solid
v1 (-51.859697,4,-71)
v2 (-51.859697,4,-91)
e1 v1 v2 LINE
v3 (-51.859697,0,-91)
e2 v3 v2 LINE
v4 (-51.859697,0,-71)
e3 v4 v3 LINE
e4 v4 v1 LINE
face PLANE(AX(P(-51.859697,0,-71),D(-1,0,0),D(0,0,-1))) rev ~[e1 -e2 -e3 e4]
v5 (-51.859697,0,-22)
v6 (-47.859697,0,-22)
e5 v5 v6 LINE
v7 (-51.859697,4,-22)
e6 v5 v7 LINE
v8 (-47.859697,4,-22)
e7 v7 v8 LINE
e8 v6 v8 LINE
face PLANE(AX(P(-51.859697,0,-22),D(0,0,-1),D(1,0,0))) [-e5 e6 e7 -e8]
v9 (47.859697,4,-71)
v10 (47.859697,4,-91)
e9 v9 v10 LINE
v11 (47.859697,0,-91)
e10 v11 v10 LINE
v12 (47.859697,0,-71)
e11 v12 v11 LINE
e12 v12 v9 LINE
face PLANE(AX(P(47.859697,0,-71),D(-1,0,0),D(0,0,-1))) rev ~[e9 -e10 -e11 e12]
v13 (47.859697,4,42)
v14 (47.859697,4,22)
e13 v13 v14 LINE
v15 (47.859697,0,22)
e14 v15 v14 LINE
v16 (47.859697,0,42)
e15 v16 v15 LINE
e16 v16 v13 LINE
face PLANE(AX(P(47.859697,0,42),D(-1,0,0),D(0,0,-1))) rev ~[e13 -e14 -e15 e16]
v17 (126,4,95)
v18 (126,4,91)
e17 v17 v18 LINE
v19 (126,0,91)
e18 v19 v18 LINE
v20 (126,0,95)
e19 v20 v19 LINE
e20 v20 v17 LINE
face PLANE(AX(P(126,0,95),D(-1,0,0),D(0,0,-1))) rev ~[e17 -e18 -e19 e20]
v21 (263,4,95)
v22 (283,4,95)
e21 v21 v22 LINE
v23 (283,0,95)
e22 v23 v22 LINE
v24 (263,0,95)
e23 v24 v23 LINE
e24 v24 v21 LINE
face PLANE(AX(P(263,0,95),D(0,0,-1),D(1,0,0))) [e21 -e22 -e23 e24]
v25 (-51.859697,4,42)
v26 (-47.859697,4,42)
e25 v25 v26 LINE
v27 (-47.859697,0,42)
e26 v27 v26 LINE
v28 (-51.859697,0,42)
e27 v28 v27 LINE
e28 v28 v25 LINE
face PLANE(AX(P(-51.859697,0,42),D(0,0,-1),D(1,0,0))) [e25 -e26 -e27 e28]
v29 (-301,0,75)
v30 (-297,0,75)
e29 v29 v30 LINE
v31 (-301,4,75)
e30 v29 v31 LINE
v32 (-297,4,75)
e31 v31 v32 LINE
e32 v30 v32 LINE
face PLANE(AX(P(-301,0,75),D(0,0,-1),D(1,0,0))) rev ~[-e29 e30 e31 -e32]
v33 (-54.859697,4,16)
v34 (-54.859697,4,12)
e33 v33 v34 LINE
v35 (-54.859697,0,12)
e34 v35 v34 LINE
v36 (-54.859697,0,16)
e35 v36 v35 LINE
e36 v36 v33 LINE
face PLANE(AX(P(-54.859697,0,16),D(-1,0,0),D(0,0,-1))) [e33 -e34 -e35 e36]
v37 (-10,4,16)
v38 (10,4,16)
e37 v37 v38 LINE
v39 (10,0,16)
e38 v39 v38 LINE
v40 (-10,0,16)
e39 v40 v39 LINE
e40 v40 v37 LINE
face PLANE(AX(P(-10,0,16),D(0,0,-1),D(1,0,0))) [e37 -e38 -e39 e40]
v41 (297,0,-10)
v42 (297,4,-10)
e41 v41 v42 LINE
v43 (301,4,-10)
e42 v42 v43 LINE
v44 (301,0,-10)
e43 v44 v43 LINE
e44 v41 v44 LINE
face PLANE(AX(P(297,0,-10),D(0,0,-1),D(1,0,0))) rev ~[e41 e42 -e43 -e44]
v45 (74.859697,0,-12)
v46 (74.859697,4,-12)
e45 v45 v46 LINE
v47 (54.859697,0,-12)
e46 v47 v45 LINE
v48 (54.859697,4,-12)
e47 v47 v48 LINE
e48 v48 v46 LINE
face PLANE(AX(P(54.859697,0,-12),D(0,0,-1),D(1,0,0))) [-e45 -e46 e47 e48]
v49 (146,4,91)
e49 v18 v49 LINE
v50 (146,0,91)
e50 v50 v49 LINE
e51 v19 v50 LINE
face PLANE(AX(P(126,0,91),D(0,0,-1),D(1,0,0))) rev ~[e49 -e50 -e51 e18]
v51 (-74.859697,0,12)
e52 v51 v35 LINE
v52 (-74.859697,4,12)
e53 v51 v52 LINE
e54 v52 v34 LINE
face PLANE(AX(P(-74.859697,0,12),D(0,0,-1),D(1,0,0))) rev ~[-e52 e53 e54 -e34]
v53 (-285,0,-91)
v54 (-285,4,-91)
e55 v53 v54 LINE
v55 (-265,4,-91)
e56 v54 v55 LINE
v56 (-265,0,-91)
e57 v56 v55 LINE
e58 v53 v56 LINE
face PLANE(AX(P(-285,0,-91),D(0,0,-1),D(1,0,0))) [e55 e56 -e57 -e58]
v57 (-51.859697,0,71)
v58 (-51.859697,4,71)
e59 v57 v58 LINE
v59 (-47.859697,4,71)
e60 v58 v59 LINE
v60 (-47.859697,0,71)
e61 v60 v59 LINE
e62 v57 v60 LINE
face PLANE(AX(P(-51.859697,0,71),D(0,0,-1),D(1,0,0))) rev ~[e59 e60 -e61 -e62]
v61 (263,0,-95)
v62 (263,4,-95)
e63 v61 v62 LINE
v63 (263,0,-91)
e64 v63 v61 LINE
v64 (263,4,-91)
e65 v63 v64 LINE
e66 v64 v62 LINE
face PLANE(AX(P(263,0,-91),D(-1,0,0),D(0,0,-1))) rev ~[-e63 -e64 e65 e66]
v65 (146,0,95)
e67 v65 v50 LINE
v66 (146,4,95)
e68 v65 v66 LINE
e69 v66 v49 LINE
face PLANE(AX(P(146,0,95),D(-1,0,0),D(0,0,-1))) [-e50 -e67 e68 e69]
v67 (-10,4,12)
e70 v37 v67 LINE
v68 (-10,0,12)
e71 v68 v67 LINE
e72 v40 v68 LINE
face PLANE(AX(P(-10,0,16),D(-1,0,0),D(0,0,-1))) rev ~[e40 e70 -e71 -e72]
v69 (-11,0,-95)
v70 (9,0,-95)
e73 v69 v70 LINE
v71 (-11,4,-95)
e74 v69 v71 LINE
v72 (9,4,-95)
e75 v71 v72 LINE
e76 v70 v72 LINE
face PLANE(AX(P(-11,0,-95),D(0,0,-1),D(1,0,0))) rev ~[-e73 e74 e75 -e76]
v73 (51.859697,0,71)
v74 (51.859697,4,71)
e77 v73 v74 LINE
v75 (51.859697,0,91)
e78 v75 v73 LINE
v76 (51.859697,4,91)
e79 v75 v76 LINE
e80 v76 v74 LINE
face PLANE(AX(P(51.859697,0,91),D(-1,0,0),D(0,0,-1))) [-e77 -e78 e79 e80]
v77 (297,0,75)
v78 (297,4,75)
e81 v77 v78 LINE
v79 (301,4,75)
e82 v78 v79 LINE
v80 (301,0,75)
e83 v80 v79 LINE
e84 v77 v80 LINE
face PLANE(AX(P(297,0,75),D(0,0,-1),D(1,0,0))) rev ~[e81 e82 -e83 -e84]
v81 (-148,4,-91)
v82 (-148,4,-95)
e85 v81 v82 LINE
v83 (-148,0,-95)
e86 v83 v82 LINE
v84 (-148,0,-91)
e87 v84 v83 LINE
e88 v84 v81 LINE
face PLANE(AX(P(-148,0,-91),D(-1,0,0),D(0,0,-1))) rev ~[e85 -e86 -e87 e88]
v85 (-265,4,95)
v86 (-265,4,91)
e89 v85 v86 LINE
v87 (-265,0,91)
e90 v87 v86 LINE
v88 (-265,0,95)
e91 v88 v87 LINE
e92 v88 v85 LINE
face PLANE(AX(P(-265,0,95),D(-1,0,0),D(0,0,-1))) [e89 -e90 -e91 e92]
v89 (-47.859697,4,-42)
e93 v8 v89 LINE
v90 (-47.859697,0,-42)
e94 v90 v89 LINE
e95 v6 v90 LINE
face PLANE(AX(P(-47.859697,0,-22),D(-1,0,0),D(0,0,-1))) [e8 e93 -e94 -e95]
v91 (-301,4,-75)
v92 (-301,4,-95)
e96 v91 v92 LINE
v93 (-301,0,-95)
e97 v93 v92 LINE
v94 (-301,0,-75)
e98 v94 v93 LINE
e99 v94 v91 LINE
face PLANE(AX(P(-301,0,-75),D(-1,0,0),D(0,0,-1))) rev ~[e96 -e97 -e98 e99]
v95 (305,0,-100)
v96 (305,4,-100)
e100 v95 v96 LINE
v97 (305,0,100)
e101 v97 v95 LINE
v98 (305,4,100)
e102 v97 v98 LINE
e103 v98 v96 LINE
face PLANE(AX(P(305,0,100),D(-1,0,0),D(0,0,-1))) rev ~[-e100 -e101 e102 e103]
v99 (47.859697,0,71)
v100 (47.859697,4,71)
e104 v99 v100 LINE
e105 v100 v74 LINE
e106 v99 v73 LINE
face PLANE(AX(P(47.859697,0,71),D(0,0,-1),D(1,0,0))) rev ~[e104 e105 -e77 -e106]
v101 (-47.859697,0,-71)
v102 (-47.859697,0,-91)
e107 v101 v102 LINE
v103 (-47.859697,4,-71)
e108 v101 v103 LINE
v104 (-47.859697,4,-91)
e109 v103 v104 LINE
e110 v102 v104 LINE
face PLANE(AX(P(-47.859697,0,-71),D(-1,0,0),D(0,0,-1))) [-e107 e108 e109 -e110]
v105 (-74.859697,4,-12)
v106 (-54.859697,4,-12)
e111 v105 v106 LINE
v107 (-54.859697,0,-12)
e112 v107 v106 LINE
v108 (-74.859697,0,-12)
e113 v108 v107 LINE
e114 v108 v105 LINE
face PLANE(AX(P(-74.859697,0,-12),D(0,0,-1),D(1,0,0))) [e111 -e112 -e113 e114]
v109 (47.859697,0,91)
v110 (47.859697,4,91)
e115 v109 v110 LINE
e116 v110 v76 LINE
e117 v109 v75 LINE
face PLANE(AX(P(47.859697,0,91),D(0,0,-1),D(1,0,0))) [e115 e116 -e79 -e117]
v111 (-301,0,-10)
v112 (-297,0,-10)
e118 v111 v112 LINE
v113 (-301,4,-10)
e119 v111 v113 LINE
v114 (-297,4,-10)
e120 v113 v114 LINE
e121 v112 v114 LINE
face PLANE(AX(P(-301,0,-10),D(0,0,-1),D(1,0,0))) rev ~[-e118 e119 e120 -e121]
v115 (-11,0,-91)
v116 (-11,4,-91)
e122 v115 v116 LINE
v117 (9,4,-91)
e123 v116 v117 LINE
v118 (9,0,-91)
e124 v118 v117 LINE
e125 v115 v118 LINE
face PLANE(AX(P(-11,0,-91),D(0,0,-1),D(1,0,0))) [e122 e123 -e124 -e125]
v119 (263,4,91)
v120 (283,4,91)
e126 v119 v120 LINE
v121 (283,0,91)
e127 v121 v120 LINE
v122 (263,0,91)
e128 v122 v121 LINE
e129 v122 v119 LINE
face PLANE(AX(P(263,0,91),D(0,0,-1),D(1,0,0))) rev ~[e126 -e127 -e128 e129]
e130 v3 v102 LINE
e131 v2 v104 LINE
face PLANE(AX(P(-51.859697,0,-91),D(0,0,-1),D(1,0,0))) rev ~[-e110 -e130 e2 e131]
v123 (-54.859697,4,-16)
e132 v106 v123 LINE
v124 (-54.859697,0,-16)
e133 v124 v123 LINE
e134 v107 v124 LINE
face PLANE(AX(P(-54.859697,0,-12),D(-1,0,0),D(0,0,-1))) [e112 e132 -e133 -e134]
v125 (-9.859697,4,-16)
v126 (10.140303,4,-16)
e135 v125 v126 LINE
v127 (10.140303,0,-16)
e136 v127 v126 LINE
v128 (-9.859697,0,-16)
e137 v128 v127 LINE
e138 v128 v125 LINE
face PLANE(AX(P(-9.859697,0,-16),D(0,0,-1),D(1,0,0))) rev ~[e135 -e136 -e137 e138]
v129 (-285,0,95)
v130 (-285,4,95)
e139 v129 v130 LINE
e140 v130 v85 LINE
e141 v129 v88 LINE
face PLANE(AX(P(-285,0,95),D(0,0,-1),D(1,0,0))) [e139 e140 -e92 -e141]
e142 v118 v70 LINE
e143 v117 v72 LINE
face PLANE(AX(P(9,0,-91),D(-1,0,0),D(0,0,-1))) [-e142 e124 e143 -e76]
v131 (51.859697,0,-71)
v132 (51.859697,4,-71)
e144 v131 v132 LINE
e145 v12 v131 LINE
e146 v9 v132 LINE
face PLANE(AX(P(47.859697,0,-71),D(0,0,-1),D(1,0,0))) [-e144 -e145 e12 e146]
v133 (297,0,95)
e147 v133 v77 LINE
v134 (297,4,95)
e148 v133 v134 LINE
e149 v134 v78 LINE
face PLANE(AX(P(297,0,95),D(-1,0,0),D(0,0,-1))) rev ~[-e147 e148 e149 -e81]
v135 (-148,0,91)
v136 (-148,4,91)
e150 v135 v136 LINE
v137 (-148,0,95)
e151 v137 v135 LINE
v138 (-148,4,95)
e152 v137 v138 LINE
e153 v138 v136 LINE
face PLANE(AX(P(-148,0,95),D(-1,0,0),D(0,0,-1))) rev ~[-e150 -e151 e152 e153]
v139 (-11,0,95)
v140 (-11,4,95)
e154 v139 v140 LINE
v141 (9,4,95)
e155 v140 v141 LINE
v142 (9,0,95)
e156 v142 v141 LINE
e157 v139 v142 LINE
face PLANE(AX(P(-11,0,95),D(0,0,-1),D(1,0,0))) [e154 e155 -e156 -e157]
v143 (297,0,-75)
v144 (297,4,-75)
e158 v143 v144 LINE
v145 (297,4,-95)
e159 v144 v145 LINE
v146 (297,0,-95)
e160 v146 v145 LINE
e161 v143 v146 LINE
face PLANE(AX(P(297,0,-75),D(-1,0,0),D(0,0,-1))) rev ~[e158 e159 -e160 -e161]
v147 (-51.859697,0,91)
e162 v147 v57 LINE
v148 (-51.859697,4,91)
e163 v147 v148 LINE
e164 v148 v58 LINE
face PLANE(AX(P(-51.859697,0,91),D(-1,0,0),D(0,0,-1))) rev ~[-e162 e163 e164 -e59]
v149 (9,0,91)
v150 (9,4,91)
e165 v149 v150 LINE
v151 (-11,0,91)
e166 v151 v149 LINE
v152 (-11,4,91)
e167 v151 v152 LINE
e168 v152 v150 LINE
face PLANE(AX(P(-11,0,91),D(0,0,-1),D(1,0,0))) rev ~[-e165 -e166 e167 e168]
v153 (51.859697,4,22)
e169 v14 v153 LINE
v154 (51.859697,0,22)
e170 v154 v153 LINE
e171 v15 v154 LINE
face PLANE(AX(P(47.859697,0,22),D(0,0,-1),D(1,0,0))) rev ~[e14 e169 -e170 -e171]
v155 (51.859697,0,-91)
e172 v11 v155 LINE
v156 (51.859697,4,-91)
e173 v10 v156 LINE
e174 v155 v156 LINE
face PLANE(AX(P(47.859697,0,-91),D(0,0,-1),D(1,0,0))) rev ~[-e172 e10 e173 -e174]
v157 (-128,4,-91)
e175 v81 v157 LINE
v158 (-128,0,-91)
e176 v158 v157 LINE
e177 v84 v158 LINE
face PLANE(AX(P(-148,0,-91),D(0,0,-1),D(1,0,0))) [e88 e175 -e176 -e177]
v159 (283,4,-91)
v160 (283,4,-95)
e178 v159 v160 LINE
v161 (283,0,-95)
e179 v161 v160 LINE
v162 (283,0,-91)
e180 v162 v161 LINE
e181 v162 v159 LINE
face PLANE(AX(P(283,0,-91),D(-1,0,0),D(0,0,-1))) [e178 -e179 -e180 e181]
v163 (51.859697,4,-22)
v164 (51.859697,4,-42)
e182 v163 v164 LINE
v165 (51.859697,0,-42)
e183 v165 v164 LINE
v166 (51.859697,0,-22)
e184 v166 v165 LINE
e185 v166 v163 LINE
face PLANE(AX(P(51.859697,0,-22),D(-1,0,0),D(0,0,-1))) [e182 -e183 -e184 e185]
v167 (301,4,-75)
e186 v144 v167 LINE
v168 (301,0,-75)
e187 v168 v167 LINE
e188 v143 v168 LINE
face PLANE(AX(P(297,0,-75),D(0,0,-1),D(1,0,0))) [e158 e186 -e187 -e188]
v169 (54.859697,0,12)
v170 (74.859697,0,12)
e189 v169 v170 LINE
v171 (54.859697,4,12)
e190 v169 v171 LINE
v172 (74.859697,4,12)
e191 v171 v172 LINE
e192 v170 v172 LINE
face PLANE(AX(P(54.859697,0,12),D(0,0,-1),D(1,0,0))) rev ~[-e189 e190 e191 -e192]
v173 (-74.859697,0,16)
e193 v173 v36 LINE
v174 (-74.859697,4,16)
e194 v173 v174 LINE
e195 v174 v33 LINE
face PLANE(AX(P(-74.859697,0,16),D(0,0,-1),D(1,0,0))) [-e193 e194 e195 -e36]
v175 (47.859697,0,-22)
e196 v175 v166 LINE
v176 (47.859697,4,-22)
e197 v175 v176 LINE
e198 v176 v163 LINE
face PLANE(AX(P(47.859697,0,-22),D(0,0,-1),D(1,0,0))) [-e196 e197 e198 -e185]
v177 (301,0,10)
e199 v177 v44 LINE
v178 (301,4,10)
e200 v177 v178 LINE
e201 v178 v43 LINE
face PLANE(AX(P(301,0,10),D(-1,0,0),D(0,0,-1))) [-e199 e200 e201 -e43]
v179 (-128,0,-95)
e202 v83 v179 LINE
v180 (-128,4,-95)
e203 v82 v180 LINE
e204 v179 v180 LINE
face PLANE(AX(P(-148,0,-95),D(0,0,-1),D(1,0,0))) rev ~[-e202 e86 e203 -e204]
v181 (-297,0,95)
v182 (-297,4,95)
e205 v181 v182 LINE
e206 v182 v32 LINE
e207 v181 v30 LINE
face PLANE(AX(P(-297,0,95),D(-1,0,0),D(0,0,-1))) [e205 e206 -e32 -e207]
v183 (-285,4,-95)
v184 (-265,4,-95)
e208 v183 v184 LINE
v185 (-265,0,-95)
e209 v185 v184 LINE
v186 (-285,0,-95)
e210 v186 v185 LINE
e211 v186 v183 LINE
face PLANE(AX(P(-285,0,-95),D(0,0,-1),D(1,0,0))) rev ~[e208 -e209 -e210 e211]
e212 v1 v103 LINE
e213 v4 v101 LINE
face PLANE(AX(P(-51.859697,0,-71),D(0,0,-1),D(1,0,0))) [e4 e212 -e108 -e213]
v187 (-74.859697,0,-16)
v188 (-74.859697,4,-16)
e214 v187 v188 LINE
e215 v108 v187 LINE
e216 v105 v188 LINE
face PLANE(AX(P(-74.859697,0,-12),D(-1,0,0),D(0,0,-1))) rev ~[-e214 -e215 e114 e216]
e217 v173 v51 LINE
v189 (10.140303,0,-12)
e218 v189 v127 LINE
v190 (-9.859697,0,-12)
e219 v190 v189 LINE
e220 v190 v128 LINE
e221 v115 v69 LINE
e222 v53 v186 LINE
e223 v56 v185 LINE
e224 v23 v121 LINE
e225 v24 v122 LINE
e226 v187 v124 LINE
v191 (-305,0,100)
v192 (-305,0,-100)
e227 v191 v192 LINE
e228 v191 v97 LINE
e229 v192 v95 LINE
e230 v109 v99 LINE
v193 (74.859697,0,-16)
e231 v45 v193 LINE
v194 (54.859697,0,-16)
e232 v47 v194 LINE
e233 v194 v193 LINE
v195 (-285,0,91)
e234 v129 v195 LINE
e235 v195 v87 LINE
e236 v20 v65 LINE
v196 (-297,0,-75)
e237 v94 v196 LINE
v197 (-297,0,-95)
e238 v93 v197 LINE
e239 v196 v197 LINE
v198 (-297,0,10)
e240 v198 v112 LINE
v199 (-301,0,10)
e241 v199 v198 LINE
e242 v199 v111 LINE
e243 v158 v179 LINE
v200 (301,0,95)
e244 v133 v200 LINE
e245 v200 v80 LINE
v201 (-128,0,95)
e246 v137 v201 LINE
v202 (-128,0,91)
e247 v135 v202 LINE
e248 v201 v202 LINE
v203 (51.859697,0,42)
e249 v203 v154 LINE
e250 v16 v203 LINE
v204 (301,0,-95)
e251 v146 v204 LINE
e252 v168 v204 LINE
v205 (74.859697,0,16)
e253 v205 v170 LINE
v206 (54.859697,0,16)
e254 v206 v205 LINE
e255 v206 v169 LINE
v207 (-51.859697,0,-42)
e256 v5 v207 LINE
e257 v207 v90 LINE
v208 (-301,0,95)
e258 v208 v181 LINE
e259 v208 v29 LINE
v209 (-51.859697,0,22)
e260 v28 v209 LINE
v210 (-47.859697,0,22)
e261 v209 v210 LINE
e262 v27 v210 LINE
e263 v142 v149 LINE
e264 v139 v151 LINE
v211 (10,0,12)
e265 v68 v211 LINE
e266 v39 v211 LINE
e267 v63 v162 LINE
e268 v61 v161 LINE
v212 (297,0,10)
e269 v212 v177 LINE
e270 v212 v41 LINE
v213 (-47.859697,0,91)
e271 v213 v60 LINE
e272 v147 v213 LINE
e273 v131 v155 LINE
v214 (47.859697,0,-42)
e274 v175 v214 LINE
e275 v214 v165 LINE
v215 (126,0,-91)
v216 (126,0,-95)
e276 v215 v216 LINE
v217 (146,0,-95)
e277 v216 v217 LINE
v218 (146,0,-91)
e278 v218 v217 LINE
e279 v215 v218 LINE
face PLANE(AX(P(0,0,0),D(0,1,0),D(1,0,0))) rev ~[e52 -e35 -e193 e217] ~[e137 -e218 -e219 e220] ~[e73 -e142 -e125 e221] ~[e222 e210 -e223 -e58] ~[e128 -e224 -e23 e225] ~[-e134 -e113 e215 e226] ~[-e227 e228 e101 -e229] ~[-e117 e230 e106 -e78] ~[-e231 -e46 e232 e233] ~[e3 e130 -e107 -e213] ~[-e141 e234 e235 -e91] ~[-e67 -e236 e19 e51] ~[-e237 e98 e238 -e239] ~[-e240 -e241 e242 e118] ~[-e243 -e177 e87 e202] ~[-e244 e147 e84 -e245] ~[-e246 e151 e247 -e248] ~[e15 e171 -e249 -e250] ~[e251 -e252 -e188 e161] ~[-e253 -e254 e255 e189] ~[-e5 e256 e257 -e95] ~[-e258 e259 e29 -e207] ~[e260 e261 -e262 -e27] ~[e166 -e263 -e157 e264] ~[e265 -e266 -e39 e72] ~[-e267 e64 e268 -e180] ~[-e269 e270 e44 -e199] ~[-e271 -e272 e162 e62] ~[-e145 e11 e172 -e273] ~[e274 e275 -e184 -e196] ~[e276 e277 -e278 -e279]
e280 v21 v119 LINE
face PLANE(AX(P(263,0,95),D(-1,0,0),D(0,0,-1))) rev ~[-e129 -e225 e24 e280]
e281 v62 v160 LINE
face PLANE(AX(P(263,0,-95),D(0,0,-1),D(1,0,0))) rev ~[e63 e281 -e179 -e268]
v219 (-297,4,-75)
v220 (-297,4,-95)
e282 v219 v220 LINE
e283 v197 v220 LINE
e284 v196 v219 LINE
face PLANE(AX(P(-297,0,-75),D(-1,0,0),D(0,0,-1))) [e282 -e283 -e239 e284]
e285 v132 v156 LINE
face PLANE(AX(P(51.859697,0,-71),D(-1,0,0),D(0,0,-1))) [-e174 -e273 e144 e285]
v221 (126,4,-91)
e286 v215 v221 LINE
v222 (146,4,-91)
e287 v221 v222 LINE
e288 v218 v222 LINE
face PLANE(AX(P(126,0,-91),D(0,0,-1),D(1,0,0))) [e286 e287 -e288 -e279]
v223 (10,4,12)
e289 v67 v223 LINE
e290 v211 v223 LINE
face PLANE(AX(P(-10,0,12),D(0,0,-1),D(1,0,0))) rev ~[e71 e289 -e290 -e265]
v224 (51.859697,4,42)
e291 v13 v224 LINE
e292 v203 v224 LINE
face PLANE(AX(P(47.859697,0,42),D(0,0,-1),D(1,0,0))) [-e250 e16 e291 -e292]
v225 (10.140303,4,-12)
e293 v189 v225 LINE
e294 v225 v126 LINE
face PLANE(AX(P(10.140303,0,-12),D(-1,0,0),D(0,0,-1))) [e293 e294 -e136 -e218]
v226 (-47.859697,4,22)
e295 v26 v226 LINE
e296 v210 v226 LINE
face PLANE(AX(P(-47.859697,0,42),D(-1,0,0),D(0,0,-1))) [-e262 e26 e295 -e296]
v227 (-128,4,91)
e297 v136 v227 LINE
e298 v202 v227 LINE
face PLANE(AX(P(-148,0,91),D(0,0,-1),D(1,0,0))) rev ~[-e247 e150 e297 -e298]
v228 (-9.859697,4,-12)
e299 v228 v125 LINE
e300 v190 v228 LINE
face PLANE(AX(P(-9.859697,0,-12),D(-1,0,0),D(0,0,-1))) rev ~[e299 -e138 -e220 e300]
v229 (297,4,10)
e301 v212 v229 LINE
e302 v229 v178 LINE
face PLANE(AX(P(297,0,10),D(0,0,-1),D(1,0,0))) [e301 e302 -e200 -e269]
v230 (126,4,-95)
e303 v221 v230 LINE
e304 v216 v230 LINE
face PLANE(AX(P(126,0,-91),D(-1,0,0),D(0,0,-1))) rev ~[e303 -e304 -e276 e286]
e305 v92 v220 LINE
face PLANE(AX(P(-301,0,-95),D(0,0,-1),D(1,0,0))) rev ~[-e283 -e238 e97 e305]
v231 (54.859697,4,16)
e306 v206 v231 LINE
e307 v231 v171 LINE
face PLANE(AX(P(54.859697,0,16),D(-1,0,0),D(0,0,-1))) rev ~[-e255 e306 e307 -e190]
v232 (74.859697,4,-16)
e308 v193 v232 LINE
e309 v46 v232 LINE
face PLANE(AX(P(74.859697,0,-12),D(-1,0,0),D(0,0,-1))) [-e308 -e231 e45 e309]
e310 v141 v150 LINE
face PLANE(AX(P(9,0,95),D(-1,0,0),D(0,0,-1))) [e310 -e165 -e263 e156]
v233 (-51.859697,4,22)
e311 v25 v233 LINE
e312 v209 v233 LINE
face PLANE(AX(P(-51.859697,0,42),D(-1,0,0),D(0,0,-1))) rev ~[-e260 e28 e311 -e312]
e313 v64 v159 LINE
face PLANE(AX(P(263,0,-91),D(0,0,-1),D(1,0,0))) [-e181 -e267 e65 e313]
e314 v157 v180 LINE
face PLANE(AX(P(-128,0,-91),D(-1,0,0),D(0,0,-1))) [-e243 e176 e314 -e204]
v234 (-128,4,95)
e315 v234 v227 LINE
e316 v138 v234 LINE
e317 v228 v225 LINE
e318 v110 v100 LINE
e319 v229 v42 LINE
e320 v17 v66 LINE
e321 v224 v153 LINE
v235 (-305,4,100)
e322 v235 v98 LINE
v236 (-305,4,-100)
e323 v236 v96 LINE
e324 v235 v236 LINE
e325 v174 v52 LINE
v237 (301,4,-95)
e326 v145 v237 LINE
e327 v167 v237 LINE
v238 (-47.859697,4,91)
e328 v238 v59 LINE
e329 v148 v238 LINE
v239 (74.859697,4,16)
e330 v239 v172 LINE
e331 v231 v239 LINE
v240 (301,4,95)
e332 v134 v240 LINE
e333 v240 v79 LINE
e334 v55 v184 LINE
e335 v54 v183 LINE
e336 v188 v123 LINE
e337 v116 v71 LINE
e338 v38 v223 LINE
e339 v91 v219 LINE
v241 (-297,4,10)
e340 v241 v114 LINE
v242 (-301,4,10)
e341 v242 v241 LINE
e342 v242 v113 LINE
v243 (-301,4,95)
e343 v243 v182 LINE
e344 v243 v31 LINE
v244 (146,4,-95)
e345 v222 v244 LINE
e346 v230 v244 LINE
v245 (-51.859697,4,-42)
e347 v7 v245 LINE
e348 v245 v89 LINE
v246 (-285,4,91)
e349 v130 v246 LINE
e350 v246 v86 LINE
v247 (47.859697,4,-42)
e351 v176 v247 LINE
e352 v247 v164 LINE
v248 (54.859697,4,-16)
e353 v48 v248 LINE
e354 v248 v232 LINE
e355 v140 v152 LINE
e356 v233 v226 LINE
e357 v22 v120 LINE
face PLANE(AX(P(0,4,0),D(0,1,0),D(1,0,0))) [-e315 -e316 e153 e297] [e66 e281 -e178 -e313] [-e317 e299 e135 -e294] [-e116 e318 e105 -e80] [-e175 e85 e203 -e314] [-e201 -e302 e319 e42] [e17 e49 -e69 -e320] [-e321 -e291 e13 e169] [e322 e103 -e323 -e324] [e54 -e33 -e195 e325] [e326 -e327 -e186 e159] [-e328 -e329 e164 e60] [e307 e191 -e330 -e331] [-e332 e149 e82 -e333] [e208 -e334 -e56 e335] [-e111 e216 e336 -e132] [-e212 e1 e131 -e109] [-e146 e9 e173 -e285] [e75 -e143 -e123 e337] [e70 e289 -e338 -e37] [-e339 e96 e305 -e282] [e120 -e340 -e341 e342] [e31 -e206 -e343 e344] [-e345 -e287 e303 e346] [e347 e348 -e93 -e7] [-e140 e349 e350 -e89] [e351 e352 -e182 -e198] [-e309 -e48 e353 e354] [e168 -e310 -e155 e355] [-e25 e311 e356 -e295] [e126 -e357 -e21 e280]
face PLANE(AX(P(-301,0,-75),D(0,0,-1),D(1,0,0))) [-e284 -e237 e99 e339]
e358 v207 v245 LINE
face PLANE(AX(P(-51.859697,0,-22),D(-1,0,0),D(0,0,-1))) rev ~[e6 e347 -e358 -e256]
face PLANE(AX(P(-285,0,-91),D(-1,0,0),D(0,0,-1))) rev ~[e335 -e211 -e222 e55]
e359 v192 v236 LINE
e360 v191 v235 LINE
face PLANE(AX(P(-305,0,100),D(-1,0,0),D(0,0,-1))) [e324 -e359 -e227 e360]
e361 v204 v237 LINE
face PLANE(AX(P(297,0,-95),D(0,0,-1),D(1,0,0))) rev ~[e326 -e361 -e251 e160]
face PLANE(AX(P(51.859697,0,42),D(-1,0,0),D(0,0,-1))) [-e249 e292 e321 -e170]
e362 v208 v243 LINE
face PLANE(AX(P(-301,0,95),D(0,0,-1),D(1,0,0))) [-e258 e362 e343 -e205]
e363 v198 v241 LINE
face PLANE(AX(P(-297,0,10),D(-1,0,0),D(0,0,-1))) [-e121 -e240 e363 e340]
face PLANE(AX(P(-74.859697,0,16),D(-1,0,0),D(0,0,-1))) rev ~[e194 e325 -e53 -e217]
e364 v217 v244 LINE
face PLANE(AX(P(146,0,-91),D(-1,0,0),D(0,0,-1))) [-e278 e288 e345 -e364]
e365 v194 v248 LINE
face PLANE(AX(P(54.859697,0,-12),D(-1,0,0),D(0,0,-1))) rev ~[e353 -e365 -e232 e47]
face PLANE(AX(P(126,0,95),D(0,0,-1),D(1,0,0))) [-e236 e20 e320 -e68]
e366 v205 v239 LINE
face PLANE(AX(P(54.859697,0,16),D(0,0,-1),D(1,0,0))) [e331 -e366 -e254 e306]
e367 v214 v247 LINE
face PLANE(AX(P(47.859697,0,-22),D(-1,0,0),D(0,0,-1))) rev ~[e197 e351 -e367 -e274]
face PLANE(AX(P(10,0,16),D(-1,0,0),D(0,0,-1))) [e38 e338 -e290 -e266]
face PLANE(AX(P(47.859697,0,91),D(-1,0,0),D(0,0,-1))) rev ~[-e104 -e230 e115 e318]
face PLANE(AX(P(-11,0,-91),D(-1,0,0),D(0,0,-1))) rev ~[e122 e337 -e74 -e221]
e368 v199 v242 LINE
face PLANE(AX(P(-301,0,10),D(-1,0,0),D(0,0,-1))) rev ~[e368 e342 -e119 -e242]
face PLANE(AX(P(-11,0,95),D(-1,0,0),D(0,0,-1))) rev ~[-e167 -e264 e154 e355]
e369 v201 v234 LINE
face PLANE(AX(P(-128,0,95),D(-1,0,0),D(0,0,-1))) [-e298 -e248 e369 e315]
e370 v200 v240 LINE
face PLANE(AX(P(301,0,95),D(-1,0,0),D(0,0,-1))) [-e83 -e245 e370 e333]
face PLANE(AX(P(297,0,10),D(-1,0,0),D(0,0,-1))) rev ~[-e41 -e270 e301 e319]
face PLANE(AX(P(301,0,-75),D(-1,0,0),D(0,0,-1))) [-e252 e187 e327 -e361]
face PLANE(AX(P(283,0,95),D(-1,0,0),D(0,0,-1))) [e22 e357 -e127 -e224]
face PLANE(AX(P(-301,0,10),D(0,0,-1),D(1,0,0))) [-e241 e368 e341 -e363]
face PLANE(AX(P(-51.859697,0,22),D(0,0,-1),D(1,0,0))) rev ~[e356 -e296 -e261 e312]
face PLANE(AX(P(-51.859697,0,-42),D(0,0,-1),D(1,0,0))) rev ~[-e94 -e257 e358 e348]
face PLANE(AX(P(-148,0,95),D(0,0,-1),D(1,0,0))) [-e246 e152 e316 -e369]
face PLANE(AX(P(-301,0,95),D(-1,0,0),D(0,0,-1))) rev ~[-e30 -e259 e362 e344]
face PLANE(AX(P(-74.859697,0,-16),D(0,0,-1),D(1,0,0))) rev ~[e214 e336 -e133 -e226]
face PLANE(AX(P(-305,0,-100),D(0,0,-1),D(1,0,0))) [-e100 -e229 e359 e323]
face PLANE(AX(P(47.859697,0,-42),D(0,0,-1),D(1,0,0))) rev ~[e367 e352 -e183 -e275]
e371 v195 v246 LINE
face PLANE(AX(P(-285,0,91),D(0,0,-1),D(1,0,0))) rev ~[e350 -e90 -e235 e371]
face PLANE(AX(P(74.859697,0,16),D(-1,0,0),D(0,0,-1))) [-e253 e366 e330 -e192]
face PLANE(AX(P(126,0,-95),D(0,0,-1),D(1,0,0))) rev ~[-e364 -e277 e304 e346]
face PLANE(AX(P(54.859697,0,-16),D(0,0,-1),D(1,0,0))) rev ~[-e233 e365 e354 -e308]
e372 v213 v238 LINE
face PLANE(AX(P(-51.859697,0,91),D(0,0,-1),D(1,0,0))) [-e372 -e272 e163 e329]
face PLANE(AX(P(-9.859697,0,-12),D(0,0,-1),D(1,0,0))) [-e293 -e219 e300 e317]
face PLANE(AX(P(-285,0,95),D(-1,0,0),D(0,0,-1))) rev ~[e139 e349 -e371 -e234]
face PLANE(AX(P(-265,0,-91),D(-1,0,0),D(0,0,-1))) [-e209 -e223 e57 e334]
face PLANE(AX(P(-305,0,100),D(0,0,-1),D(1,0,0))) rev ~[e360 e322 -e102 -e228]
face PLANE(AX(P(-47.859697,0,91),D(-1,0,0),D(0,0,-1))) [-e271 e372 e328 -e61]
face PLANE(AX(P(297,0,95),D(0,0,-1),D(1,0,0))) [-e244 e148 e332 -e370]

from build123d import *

# Parameters (mm, degrees)
SKETCH1_W           = 610
SKETCH1_H           = 200
SKETCH1_W_2         = 4
SKETCH1_H_2         = 20
SKETCH1_W_3         = 20
SKETCH1_H_3         = 4
BOSS_EXTRUDE1_DEPTH = 4


with BuildPart() as part:
    # Sketch1 → Boss-Extrude1 (new body)
    with BuildSketch(Plane(origin=(0, 0, 0), x_dir=(1, 0, 0), z_dir=(0, 1, 0))):
        Rectangle(SKETCH1_W, SKETCH1_H)
        with Locations((-299, -85)):
            Rectangle(SKETCH1_W_2, SKETCH1_H_2, mode=Mode.SUBTRACT)
        with Locations((-299, 85)):
            Rectangle(SKETCH1_W_2, SKETCH1_H_2, mode=Mode.SUBTRACT)
        with Locations((-299, 0)):
            Rectangle(SKETCH1_W_2, SKETCH1_H_2, mode=Mode.SUBTRACT)
        with Locations((-275, 93)):
            Rectangle(SKETCH1_W_3, SKETCH1_H_3, mode=Mode.SUBTRACT)
        with Locations((-138, 93)):
            Rectangle(SKETCH1_W_3, SKETCH1_H_3, mode=Mode.SUBTRACT)
        with Locations((-1, 93)):
            Rectangle(SKETCH1_W_3, SKETCH1_H_3, mode=Mode.SUBTRACT)
        with Locations((-1, -93)):
            Rectangle(SKETCH1_W_3, SKETCH1_H_3, mode=Mode.SUBTRACT)
        with Locations((-138, -93)):
            Rectangle(SKETCH1_W_3, SKETCH1_H_3, mode=Mode.SUBTRACT)
        with Locations((-275, -93)):
            Rectangle(SKETCH1_W_3, SKETCH1_H_3, mode=Mode.SUBTRACT)
        with Locations((-49.859697176, -81)):
            Rectangle(SKETCH1_W_2, SKETCH1_H_2, mode=Mode.SUBTRACT)
        with Locations((-49.859697176, -32)):
            Rectangle(SKETCH1_W_2, SKETCH1_H_2, mode=Mode.SUBTRACT)
        with Locations((-64.859697176, -14)):
            Rectangle(SKETCH1_W_3, SKETCH1_H_3, mode=Mode.SUBTRACT)
        with Locations((-64.859697176, 14)):
            Rectangle(SKETCH1_W_3, SKETCH1_H_3, mode=Mode.SUBTRACT)
        with Locations((-49.859697176, 32)):
            Rectangle(SKETCH1_W_2, SKETCH1_H_2, mode=Mode.SUBTRACT)
        with Locations((0, -14)):
            Rectangle(SKETCH1_W_3, SKETCH1_H_3, mode=Mode.SUBTRACT)
        with Locations((0.140302824, 14)):
            Rectangle(SKETCH1_W_3, SKETCH1_H_3, mode=Mode.SUBTRACT)
        with Locations((136, 93)):
            Rectangle(SKETCH1_W_3, SKETCH1_H_3, mode=Mode.SUBTRACT)
        with Locations((273, 93)):
            Rectangle(SKETCH1_W_3, SKETCH1_H_3, mode=Mode.SUBTRACT)
        with Locations((49.859697176, -81)):
            Rectangle(SKETCH1_W_2, SKETCH1_H_2, mode=Mode.SUBTRACT)
        with Locations((49.859697176, -32)):
            Rectangle(SKETCH1_W_2, SKETCH1_H_2, mode=Mode.SUBTRACT)
        with Locations((64.859697176, -14)):
            Rectangle(SKETCH1_W_3, SKETCH1_H_3, mode=Mode.SUBTRACT)
        with Locations((64.859697176, 14)):
            Rectangle(SKETCH1_W_3, SKETCH1_H_3, mode=Mode.SUBTRACT)
        with Locations((49.859697176, 32)):
            Rectangle(SKETCH1_W_2, SKETCH1_H_2, mode=Mode.SUBTRACT)
        with Locations((273, -93)):
            Rectangle(SKETCH1_W_3, SKETCH1_H_3, mode=Mode.SUBTRACT)
        with Locations((136, -93)):
            Rectangle(SKETCH1_W_3, SKETCH1_H_3, mode=Mode.SUBTRACT)
        with Locations((49.859697176, 81)):
            Rectangle(SKETCH1_W_2, SKETCH1_H_2, mode=Mode.SUBTRACT)
        with Locations((-49.859697176, 81)):
            Rectangle(SKETCH1_W_2, SKETCH1_H_2, mode=Mode.SUBTRACT)
        with Locations((299, 85)):
            Rectangle(SKETCH1_W_2, SKETCH1_H_2, mode=Mode.SUBTRACT)
        with Locations((299, 0)):
            Rectangle(SKETCH1_W_2, SKETCH1_H_2, mode=Mode.SUBTRACT)
        with Locations((299, -85)):
            Rectangle(SKETCH1_W_2, SKETCH1_H_2, mode=Mode.SUBTRACT)
    extrude(amount=BOSS_EXTRUDE1_DEPTH)


solid = part.part
